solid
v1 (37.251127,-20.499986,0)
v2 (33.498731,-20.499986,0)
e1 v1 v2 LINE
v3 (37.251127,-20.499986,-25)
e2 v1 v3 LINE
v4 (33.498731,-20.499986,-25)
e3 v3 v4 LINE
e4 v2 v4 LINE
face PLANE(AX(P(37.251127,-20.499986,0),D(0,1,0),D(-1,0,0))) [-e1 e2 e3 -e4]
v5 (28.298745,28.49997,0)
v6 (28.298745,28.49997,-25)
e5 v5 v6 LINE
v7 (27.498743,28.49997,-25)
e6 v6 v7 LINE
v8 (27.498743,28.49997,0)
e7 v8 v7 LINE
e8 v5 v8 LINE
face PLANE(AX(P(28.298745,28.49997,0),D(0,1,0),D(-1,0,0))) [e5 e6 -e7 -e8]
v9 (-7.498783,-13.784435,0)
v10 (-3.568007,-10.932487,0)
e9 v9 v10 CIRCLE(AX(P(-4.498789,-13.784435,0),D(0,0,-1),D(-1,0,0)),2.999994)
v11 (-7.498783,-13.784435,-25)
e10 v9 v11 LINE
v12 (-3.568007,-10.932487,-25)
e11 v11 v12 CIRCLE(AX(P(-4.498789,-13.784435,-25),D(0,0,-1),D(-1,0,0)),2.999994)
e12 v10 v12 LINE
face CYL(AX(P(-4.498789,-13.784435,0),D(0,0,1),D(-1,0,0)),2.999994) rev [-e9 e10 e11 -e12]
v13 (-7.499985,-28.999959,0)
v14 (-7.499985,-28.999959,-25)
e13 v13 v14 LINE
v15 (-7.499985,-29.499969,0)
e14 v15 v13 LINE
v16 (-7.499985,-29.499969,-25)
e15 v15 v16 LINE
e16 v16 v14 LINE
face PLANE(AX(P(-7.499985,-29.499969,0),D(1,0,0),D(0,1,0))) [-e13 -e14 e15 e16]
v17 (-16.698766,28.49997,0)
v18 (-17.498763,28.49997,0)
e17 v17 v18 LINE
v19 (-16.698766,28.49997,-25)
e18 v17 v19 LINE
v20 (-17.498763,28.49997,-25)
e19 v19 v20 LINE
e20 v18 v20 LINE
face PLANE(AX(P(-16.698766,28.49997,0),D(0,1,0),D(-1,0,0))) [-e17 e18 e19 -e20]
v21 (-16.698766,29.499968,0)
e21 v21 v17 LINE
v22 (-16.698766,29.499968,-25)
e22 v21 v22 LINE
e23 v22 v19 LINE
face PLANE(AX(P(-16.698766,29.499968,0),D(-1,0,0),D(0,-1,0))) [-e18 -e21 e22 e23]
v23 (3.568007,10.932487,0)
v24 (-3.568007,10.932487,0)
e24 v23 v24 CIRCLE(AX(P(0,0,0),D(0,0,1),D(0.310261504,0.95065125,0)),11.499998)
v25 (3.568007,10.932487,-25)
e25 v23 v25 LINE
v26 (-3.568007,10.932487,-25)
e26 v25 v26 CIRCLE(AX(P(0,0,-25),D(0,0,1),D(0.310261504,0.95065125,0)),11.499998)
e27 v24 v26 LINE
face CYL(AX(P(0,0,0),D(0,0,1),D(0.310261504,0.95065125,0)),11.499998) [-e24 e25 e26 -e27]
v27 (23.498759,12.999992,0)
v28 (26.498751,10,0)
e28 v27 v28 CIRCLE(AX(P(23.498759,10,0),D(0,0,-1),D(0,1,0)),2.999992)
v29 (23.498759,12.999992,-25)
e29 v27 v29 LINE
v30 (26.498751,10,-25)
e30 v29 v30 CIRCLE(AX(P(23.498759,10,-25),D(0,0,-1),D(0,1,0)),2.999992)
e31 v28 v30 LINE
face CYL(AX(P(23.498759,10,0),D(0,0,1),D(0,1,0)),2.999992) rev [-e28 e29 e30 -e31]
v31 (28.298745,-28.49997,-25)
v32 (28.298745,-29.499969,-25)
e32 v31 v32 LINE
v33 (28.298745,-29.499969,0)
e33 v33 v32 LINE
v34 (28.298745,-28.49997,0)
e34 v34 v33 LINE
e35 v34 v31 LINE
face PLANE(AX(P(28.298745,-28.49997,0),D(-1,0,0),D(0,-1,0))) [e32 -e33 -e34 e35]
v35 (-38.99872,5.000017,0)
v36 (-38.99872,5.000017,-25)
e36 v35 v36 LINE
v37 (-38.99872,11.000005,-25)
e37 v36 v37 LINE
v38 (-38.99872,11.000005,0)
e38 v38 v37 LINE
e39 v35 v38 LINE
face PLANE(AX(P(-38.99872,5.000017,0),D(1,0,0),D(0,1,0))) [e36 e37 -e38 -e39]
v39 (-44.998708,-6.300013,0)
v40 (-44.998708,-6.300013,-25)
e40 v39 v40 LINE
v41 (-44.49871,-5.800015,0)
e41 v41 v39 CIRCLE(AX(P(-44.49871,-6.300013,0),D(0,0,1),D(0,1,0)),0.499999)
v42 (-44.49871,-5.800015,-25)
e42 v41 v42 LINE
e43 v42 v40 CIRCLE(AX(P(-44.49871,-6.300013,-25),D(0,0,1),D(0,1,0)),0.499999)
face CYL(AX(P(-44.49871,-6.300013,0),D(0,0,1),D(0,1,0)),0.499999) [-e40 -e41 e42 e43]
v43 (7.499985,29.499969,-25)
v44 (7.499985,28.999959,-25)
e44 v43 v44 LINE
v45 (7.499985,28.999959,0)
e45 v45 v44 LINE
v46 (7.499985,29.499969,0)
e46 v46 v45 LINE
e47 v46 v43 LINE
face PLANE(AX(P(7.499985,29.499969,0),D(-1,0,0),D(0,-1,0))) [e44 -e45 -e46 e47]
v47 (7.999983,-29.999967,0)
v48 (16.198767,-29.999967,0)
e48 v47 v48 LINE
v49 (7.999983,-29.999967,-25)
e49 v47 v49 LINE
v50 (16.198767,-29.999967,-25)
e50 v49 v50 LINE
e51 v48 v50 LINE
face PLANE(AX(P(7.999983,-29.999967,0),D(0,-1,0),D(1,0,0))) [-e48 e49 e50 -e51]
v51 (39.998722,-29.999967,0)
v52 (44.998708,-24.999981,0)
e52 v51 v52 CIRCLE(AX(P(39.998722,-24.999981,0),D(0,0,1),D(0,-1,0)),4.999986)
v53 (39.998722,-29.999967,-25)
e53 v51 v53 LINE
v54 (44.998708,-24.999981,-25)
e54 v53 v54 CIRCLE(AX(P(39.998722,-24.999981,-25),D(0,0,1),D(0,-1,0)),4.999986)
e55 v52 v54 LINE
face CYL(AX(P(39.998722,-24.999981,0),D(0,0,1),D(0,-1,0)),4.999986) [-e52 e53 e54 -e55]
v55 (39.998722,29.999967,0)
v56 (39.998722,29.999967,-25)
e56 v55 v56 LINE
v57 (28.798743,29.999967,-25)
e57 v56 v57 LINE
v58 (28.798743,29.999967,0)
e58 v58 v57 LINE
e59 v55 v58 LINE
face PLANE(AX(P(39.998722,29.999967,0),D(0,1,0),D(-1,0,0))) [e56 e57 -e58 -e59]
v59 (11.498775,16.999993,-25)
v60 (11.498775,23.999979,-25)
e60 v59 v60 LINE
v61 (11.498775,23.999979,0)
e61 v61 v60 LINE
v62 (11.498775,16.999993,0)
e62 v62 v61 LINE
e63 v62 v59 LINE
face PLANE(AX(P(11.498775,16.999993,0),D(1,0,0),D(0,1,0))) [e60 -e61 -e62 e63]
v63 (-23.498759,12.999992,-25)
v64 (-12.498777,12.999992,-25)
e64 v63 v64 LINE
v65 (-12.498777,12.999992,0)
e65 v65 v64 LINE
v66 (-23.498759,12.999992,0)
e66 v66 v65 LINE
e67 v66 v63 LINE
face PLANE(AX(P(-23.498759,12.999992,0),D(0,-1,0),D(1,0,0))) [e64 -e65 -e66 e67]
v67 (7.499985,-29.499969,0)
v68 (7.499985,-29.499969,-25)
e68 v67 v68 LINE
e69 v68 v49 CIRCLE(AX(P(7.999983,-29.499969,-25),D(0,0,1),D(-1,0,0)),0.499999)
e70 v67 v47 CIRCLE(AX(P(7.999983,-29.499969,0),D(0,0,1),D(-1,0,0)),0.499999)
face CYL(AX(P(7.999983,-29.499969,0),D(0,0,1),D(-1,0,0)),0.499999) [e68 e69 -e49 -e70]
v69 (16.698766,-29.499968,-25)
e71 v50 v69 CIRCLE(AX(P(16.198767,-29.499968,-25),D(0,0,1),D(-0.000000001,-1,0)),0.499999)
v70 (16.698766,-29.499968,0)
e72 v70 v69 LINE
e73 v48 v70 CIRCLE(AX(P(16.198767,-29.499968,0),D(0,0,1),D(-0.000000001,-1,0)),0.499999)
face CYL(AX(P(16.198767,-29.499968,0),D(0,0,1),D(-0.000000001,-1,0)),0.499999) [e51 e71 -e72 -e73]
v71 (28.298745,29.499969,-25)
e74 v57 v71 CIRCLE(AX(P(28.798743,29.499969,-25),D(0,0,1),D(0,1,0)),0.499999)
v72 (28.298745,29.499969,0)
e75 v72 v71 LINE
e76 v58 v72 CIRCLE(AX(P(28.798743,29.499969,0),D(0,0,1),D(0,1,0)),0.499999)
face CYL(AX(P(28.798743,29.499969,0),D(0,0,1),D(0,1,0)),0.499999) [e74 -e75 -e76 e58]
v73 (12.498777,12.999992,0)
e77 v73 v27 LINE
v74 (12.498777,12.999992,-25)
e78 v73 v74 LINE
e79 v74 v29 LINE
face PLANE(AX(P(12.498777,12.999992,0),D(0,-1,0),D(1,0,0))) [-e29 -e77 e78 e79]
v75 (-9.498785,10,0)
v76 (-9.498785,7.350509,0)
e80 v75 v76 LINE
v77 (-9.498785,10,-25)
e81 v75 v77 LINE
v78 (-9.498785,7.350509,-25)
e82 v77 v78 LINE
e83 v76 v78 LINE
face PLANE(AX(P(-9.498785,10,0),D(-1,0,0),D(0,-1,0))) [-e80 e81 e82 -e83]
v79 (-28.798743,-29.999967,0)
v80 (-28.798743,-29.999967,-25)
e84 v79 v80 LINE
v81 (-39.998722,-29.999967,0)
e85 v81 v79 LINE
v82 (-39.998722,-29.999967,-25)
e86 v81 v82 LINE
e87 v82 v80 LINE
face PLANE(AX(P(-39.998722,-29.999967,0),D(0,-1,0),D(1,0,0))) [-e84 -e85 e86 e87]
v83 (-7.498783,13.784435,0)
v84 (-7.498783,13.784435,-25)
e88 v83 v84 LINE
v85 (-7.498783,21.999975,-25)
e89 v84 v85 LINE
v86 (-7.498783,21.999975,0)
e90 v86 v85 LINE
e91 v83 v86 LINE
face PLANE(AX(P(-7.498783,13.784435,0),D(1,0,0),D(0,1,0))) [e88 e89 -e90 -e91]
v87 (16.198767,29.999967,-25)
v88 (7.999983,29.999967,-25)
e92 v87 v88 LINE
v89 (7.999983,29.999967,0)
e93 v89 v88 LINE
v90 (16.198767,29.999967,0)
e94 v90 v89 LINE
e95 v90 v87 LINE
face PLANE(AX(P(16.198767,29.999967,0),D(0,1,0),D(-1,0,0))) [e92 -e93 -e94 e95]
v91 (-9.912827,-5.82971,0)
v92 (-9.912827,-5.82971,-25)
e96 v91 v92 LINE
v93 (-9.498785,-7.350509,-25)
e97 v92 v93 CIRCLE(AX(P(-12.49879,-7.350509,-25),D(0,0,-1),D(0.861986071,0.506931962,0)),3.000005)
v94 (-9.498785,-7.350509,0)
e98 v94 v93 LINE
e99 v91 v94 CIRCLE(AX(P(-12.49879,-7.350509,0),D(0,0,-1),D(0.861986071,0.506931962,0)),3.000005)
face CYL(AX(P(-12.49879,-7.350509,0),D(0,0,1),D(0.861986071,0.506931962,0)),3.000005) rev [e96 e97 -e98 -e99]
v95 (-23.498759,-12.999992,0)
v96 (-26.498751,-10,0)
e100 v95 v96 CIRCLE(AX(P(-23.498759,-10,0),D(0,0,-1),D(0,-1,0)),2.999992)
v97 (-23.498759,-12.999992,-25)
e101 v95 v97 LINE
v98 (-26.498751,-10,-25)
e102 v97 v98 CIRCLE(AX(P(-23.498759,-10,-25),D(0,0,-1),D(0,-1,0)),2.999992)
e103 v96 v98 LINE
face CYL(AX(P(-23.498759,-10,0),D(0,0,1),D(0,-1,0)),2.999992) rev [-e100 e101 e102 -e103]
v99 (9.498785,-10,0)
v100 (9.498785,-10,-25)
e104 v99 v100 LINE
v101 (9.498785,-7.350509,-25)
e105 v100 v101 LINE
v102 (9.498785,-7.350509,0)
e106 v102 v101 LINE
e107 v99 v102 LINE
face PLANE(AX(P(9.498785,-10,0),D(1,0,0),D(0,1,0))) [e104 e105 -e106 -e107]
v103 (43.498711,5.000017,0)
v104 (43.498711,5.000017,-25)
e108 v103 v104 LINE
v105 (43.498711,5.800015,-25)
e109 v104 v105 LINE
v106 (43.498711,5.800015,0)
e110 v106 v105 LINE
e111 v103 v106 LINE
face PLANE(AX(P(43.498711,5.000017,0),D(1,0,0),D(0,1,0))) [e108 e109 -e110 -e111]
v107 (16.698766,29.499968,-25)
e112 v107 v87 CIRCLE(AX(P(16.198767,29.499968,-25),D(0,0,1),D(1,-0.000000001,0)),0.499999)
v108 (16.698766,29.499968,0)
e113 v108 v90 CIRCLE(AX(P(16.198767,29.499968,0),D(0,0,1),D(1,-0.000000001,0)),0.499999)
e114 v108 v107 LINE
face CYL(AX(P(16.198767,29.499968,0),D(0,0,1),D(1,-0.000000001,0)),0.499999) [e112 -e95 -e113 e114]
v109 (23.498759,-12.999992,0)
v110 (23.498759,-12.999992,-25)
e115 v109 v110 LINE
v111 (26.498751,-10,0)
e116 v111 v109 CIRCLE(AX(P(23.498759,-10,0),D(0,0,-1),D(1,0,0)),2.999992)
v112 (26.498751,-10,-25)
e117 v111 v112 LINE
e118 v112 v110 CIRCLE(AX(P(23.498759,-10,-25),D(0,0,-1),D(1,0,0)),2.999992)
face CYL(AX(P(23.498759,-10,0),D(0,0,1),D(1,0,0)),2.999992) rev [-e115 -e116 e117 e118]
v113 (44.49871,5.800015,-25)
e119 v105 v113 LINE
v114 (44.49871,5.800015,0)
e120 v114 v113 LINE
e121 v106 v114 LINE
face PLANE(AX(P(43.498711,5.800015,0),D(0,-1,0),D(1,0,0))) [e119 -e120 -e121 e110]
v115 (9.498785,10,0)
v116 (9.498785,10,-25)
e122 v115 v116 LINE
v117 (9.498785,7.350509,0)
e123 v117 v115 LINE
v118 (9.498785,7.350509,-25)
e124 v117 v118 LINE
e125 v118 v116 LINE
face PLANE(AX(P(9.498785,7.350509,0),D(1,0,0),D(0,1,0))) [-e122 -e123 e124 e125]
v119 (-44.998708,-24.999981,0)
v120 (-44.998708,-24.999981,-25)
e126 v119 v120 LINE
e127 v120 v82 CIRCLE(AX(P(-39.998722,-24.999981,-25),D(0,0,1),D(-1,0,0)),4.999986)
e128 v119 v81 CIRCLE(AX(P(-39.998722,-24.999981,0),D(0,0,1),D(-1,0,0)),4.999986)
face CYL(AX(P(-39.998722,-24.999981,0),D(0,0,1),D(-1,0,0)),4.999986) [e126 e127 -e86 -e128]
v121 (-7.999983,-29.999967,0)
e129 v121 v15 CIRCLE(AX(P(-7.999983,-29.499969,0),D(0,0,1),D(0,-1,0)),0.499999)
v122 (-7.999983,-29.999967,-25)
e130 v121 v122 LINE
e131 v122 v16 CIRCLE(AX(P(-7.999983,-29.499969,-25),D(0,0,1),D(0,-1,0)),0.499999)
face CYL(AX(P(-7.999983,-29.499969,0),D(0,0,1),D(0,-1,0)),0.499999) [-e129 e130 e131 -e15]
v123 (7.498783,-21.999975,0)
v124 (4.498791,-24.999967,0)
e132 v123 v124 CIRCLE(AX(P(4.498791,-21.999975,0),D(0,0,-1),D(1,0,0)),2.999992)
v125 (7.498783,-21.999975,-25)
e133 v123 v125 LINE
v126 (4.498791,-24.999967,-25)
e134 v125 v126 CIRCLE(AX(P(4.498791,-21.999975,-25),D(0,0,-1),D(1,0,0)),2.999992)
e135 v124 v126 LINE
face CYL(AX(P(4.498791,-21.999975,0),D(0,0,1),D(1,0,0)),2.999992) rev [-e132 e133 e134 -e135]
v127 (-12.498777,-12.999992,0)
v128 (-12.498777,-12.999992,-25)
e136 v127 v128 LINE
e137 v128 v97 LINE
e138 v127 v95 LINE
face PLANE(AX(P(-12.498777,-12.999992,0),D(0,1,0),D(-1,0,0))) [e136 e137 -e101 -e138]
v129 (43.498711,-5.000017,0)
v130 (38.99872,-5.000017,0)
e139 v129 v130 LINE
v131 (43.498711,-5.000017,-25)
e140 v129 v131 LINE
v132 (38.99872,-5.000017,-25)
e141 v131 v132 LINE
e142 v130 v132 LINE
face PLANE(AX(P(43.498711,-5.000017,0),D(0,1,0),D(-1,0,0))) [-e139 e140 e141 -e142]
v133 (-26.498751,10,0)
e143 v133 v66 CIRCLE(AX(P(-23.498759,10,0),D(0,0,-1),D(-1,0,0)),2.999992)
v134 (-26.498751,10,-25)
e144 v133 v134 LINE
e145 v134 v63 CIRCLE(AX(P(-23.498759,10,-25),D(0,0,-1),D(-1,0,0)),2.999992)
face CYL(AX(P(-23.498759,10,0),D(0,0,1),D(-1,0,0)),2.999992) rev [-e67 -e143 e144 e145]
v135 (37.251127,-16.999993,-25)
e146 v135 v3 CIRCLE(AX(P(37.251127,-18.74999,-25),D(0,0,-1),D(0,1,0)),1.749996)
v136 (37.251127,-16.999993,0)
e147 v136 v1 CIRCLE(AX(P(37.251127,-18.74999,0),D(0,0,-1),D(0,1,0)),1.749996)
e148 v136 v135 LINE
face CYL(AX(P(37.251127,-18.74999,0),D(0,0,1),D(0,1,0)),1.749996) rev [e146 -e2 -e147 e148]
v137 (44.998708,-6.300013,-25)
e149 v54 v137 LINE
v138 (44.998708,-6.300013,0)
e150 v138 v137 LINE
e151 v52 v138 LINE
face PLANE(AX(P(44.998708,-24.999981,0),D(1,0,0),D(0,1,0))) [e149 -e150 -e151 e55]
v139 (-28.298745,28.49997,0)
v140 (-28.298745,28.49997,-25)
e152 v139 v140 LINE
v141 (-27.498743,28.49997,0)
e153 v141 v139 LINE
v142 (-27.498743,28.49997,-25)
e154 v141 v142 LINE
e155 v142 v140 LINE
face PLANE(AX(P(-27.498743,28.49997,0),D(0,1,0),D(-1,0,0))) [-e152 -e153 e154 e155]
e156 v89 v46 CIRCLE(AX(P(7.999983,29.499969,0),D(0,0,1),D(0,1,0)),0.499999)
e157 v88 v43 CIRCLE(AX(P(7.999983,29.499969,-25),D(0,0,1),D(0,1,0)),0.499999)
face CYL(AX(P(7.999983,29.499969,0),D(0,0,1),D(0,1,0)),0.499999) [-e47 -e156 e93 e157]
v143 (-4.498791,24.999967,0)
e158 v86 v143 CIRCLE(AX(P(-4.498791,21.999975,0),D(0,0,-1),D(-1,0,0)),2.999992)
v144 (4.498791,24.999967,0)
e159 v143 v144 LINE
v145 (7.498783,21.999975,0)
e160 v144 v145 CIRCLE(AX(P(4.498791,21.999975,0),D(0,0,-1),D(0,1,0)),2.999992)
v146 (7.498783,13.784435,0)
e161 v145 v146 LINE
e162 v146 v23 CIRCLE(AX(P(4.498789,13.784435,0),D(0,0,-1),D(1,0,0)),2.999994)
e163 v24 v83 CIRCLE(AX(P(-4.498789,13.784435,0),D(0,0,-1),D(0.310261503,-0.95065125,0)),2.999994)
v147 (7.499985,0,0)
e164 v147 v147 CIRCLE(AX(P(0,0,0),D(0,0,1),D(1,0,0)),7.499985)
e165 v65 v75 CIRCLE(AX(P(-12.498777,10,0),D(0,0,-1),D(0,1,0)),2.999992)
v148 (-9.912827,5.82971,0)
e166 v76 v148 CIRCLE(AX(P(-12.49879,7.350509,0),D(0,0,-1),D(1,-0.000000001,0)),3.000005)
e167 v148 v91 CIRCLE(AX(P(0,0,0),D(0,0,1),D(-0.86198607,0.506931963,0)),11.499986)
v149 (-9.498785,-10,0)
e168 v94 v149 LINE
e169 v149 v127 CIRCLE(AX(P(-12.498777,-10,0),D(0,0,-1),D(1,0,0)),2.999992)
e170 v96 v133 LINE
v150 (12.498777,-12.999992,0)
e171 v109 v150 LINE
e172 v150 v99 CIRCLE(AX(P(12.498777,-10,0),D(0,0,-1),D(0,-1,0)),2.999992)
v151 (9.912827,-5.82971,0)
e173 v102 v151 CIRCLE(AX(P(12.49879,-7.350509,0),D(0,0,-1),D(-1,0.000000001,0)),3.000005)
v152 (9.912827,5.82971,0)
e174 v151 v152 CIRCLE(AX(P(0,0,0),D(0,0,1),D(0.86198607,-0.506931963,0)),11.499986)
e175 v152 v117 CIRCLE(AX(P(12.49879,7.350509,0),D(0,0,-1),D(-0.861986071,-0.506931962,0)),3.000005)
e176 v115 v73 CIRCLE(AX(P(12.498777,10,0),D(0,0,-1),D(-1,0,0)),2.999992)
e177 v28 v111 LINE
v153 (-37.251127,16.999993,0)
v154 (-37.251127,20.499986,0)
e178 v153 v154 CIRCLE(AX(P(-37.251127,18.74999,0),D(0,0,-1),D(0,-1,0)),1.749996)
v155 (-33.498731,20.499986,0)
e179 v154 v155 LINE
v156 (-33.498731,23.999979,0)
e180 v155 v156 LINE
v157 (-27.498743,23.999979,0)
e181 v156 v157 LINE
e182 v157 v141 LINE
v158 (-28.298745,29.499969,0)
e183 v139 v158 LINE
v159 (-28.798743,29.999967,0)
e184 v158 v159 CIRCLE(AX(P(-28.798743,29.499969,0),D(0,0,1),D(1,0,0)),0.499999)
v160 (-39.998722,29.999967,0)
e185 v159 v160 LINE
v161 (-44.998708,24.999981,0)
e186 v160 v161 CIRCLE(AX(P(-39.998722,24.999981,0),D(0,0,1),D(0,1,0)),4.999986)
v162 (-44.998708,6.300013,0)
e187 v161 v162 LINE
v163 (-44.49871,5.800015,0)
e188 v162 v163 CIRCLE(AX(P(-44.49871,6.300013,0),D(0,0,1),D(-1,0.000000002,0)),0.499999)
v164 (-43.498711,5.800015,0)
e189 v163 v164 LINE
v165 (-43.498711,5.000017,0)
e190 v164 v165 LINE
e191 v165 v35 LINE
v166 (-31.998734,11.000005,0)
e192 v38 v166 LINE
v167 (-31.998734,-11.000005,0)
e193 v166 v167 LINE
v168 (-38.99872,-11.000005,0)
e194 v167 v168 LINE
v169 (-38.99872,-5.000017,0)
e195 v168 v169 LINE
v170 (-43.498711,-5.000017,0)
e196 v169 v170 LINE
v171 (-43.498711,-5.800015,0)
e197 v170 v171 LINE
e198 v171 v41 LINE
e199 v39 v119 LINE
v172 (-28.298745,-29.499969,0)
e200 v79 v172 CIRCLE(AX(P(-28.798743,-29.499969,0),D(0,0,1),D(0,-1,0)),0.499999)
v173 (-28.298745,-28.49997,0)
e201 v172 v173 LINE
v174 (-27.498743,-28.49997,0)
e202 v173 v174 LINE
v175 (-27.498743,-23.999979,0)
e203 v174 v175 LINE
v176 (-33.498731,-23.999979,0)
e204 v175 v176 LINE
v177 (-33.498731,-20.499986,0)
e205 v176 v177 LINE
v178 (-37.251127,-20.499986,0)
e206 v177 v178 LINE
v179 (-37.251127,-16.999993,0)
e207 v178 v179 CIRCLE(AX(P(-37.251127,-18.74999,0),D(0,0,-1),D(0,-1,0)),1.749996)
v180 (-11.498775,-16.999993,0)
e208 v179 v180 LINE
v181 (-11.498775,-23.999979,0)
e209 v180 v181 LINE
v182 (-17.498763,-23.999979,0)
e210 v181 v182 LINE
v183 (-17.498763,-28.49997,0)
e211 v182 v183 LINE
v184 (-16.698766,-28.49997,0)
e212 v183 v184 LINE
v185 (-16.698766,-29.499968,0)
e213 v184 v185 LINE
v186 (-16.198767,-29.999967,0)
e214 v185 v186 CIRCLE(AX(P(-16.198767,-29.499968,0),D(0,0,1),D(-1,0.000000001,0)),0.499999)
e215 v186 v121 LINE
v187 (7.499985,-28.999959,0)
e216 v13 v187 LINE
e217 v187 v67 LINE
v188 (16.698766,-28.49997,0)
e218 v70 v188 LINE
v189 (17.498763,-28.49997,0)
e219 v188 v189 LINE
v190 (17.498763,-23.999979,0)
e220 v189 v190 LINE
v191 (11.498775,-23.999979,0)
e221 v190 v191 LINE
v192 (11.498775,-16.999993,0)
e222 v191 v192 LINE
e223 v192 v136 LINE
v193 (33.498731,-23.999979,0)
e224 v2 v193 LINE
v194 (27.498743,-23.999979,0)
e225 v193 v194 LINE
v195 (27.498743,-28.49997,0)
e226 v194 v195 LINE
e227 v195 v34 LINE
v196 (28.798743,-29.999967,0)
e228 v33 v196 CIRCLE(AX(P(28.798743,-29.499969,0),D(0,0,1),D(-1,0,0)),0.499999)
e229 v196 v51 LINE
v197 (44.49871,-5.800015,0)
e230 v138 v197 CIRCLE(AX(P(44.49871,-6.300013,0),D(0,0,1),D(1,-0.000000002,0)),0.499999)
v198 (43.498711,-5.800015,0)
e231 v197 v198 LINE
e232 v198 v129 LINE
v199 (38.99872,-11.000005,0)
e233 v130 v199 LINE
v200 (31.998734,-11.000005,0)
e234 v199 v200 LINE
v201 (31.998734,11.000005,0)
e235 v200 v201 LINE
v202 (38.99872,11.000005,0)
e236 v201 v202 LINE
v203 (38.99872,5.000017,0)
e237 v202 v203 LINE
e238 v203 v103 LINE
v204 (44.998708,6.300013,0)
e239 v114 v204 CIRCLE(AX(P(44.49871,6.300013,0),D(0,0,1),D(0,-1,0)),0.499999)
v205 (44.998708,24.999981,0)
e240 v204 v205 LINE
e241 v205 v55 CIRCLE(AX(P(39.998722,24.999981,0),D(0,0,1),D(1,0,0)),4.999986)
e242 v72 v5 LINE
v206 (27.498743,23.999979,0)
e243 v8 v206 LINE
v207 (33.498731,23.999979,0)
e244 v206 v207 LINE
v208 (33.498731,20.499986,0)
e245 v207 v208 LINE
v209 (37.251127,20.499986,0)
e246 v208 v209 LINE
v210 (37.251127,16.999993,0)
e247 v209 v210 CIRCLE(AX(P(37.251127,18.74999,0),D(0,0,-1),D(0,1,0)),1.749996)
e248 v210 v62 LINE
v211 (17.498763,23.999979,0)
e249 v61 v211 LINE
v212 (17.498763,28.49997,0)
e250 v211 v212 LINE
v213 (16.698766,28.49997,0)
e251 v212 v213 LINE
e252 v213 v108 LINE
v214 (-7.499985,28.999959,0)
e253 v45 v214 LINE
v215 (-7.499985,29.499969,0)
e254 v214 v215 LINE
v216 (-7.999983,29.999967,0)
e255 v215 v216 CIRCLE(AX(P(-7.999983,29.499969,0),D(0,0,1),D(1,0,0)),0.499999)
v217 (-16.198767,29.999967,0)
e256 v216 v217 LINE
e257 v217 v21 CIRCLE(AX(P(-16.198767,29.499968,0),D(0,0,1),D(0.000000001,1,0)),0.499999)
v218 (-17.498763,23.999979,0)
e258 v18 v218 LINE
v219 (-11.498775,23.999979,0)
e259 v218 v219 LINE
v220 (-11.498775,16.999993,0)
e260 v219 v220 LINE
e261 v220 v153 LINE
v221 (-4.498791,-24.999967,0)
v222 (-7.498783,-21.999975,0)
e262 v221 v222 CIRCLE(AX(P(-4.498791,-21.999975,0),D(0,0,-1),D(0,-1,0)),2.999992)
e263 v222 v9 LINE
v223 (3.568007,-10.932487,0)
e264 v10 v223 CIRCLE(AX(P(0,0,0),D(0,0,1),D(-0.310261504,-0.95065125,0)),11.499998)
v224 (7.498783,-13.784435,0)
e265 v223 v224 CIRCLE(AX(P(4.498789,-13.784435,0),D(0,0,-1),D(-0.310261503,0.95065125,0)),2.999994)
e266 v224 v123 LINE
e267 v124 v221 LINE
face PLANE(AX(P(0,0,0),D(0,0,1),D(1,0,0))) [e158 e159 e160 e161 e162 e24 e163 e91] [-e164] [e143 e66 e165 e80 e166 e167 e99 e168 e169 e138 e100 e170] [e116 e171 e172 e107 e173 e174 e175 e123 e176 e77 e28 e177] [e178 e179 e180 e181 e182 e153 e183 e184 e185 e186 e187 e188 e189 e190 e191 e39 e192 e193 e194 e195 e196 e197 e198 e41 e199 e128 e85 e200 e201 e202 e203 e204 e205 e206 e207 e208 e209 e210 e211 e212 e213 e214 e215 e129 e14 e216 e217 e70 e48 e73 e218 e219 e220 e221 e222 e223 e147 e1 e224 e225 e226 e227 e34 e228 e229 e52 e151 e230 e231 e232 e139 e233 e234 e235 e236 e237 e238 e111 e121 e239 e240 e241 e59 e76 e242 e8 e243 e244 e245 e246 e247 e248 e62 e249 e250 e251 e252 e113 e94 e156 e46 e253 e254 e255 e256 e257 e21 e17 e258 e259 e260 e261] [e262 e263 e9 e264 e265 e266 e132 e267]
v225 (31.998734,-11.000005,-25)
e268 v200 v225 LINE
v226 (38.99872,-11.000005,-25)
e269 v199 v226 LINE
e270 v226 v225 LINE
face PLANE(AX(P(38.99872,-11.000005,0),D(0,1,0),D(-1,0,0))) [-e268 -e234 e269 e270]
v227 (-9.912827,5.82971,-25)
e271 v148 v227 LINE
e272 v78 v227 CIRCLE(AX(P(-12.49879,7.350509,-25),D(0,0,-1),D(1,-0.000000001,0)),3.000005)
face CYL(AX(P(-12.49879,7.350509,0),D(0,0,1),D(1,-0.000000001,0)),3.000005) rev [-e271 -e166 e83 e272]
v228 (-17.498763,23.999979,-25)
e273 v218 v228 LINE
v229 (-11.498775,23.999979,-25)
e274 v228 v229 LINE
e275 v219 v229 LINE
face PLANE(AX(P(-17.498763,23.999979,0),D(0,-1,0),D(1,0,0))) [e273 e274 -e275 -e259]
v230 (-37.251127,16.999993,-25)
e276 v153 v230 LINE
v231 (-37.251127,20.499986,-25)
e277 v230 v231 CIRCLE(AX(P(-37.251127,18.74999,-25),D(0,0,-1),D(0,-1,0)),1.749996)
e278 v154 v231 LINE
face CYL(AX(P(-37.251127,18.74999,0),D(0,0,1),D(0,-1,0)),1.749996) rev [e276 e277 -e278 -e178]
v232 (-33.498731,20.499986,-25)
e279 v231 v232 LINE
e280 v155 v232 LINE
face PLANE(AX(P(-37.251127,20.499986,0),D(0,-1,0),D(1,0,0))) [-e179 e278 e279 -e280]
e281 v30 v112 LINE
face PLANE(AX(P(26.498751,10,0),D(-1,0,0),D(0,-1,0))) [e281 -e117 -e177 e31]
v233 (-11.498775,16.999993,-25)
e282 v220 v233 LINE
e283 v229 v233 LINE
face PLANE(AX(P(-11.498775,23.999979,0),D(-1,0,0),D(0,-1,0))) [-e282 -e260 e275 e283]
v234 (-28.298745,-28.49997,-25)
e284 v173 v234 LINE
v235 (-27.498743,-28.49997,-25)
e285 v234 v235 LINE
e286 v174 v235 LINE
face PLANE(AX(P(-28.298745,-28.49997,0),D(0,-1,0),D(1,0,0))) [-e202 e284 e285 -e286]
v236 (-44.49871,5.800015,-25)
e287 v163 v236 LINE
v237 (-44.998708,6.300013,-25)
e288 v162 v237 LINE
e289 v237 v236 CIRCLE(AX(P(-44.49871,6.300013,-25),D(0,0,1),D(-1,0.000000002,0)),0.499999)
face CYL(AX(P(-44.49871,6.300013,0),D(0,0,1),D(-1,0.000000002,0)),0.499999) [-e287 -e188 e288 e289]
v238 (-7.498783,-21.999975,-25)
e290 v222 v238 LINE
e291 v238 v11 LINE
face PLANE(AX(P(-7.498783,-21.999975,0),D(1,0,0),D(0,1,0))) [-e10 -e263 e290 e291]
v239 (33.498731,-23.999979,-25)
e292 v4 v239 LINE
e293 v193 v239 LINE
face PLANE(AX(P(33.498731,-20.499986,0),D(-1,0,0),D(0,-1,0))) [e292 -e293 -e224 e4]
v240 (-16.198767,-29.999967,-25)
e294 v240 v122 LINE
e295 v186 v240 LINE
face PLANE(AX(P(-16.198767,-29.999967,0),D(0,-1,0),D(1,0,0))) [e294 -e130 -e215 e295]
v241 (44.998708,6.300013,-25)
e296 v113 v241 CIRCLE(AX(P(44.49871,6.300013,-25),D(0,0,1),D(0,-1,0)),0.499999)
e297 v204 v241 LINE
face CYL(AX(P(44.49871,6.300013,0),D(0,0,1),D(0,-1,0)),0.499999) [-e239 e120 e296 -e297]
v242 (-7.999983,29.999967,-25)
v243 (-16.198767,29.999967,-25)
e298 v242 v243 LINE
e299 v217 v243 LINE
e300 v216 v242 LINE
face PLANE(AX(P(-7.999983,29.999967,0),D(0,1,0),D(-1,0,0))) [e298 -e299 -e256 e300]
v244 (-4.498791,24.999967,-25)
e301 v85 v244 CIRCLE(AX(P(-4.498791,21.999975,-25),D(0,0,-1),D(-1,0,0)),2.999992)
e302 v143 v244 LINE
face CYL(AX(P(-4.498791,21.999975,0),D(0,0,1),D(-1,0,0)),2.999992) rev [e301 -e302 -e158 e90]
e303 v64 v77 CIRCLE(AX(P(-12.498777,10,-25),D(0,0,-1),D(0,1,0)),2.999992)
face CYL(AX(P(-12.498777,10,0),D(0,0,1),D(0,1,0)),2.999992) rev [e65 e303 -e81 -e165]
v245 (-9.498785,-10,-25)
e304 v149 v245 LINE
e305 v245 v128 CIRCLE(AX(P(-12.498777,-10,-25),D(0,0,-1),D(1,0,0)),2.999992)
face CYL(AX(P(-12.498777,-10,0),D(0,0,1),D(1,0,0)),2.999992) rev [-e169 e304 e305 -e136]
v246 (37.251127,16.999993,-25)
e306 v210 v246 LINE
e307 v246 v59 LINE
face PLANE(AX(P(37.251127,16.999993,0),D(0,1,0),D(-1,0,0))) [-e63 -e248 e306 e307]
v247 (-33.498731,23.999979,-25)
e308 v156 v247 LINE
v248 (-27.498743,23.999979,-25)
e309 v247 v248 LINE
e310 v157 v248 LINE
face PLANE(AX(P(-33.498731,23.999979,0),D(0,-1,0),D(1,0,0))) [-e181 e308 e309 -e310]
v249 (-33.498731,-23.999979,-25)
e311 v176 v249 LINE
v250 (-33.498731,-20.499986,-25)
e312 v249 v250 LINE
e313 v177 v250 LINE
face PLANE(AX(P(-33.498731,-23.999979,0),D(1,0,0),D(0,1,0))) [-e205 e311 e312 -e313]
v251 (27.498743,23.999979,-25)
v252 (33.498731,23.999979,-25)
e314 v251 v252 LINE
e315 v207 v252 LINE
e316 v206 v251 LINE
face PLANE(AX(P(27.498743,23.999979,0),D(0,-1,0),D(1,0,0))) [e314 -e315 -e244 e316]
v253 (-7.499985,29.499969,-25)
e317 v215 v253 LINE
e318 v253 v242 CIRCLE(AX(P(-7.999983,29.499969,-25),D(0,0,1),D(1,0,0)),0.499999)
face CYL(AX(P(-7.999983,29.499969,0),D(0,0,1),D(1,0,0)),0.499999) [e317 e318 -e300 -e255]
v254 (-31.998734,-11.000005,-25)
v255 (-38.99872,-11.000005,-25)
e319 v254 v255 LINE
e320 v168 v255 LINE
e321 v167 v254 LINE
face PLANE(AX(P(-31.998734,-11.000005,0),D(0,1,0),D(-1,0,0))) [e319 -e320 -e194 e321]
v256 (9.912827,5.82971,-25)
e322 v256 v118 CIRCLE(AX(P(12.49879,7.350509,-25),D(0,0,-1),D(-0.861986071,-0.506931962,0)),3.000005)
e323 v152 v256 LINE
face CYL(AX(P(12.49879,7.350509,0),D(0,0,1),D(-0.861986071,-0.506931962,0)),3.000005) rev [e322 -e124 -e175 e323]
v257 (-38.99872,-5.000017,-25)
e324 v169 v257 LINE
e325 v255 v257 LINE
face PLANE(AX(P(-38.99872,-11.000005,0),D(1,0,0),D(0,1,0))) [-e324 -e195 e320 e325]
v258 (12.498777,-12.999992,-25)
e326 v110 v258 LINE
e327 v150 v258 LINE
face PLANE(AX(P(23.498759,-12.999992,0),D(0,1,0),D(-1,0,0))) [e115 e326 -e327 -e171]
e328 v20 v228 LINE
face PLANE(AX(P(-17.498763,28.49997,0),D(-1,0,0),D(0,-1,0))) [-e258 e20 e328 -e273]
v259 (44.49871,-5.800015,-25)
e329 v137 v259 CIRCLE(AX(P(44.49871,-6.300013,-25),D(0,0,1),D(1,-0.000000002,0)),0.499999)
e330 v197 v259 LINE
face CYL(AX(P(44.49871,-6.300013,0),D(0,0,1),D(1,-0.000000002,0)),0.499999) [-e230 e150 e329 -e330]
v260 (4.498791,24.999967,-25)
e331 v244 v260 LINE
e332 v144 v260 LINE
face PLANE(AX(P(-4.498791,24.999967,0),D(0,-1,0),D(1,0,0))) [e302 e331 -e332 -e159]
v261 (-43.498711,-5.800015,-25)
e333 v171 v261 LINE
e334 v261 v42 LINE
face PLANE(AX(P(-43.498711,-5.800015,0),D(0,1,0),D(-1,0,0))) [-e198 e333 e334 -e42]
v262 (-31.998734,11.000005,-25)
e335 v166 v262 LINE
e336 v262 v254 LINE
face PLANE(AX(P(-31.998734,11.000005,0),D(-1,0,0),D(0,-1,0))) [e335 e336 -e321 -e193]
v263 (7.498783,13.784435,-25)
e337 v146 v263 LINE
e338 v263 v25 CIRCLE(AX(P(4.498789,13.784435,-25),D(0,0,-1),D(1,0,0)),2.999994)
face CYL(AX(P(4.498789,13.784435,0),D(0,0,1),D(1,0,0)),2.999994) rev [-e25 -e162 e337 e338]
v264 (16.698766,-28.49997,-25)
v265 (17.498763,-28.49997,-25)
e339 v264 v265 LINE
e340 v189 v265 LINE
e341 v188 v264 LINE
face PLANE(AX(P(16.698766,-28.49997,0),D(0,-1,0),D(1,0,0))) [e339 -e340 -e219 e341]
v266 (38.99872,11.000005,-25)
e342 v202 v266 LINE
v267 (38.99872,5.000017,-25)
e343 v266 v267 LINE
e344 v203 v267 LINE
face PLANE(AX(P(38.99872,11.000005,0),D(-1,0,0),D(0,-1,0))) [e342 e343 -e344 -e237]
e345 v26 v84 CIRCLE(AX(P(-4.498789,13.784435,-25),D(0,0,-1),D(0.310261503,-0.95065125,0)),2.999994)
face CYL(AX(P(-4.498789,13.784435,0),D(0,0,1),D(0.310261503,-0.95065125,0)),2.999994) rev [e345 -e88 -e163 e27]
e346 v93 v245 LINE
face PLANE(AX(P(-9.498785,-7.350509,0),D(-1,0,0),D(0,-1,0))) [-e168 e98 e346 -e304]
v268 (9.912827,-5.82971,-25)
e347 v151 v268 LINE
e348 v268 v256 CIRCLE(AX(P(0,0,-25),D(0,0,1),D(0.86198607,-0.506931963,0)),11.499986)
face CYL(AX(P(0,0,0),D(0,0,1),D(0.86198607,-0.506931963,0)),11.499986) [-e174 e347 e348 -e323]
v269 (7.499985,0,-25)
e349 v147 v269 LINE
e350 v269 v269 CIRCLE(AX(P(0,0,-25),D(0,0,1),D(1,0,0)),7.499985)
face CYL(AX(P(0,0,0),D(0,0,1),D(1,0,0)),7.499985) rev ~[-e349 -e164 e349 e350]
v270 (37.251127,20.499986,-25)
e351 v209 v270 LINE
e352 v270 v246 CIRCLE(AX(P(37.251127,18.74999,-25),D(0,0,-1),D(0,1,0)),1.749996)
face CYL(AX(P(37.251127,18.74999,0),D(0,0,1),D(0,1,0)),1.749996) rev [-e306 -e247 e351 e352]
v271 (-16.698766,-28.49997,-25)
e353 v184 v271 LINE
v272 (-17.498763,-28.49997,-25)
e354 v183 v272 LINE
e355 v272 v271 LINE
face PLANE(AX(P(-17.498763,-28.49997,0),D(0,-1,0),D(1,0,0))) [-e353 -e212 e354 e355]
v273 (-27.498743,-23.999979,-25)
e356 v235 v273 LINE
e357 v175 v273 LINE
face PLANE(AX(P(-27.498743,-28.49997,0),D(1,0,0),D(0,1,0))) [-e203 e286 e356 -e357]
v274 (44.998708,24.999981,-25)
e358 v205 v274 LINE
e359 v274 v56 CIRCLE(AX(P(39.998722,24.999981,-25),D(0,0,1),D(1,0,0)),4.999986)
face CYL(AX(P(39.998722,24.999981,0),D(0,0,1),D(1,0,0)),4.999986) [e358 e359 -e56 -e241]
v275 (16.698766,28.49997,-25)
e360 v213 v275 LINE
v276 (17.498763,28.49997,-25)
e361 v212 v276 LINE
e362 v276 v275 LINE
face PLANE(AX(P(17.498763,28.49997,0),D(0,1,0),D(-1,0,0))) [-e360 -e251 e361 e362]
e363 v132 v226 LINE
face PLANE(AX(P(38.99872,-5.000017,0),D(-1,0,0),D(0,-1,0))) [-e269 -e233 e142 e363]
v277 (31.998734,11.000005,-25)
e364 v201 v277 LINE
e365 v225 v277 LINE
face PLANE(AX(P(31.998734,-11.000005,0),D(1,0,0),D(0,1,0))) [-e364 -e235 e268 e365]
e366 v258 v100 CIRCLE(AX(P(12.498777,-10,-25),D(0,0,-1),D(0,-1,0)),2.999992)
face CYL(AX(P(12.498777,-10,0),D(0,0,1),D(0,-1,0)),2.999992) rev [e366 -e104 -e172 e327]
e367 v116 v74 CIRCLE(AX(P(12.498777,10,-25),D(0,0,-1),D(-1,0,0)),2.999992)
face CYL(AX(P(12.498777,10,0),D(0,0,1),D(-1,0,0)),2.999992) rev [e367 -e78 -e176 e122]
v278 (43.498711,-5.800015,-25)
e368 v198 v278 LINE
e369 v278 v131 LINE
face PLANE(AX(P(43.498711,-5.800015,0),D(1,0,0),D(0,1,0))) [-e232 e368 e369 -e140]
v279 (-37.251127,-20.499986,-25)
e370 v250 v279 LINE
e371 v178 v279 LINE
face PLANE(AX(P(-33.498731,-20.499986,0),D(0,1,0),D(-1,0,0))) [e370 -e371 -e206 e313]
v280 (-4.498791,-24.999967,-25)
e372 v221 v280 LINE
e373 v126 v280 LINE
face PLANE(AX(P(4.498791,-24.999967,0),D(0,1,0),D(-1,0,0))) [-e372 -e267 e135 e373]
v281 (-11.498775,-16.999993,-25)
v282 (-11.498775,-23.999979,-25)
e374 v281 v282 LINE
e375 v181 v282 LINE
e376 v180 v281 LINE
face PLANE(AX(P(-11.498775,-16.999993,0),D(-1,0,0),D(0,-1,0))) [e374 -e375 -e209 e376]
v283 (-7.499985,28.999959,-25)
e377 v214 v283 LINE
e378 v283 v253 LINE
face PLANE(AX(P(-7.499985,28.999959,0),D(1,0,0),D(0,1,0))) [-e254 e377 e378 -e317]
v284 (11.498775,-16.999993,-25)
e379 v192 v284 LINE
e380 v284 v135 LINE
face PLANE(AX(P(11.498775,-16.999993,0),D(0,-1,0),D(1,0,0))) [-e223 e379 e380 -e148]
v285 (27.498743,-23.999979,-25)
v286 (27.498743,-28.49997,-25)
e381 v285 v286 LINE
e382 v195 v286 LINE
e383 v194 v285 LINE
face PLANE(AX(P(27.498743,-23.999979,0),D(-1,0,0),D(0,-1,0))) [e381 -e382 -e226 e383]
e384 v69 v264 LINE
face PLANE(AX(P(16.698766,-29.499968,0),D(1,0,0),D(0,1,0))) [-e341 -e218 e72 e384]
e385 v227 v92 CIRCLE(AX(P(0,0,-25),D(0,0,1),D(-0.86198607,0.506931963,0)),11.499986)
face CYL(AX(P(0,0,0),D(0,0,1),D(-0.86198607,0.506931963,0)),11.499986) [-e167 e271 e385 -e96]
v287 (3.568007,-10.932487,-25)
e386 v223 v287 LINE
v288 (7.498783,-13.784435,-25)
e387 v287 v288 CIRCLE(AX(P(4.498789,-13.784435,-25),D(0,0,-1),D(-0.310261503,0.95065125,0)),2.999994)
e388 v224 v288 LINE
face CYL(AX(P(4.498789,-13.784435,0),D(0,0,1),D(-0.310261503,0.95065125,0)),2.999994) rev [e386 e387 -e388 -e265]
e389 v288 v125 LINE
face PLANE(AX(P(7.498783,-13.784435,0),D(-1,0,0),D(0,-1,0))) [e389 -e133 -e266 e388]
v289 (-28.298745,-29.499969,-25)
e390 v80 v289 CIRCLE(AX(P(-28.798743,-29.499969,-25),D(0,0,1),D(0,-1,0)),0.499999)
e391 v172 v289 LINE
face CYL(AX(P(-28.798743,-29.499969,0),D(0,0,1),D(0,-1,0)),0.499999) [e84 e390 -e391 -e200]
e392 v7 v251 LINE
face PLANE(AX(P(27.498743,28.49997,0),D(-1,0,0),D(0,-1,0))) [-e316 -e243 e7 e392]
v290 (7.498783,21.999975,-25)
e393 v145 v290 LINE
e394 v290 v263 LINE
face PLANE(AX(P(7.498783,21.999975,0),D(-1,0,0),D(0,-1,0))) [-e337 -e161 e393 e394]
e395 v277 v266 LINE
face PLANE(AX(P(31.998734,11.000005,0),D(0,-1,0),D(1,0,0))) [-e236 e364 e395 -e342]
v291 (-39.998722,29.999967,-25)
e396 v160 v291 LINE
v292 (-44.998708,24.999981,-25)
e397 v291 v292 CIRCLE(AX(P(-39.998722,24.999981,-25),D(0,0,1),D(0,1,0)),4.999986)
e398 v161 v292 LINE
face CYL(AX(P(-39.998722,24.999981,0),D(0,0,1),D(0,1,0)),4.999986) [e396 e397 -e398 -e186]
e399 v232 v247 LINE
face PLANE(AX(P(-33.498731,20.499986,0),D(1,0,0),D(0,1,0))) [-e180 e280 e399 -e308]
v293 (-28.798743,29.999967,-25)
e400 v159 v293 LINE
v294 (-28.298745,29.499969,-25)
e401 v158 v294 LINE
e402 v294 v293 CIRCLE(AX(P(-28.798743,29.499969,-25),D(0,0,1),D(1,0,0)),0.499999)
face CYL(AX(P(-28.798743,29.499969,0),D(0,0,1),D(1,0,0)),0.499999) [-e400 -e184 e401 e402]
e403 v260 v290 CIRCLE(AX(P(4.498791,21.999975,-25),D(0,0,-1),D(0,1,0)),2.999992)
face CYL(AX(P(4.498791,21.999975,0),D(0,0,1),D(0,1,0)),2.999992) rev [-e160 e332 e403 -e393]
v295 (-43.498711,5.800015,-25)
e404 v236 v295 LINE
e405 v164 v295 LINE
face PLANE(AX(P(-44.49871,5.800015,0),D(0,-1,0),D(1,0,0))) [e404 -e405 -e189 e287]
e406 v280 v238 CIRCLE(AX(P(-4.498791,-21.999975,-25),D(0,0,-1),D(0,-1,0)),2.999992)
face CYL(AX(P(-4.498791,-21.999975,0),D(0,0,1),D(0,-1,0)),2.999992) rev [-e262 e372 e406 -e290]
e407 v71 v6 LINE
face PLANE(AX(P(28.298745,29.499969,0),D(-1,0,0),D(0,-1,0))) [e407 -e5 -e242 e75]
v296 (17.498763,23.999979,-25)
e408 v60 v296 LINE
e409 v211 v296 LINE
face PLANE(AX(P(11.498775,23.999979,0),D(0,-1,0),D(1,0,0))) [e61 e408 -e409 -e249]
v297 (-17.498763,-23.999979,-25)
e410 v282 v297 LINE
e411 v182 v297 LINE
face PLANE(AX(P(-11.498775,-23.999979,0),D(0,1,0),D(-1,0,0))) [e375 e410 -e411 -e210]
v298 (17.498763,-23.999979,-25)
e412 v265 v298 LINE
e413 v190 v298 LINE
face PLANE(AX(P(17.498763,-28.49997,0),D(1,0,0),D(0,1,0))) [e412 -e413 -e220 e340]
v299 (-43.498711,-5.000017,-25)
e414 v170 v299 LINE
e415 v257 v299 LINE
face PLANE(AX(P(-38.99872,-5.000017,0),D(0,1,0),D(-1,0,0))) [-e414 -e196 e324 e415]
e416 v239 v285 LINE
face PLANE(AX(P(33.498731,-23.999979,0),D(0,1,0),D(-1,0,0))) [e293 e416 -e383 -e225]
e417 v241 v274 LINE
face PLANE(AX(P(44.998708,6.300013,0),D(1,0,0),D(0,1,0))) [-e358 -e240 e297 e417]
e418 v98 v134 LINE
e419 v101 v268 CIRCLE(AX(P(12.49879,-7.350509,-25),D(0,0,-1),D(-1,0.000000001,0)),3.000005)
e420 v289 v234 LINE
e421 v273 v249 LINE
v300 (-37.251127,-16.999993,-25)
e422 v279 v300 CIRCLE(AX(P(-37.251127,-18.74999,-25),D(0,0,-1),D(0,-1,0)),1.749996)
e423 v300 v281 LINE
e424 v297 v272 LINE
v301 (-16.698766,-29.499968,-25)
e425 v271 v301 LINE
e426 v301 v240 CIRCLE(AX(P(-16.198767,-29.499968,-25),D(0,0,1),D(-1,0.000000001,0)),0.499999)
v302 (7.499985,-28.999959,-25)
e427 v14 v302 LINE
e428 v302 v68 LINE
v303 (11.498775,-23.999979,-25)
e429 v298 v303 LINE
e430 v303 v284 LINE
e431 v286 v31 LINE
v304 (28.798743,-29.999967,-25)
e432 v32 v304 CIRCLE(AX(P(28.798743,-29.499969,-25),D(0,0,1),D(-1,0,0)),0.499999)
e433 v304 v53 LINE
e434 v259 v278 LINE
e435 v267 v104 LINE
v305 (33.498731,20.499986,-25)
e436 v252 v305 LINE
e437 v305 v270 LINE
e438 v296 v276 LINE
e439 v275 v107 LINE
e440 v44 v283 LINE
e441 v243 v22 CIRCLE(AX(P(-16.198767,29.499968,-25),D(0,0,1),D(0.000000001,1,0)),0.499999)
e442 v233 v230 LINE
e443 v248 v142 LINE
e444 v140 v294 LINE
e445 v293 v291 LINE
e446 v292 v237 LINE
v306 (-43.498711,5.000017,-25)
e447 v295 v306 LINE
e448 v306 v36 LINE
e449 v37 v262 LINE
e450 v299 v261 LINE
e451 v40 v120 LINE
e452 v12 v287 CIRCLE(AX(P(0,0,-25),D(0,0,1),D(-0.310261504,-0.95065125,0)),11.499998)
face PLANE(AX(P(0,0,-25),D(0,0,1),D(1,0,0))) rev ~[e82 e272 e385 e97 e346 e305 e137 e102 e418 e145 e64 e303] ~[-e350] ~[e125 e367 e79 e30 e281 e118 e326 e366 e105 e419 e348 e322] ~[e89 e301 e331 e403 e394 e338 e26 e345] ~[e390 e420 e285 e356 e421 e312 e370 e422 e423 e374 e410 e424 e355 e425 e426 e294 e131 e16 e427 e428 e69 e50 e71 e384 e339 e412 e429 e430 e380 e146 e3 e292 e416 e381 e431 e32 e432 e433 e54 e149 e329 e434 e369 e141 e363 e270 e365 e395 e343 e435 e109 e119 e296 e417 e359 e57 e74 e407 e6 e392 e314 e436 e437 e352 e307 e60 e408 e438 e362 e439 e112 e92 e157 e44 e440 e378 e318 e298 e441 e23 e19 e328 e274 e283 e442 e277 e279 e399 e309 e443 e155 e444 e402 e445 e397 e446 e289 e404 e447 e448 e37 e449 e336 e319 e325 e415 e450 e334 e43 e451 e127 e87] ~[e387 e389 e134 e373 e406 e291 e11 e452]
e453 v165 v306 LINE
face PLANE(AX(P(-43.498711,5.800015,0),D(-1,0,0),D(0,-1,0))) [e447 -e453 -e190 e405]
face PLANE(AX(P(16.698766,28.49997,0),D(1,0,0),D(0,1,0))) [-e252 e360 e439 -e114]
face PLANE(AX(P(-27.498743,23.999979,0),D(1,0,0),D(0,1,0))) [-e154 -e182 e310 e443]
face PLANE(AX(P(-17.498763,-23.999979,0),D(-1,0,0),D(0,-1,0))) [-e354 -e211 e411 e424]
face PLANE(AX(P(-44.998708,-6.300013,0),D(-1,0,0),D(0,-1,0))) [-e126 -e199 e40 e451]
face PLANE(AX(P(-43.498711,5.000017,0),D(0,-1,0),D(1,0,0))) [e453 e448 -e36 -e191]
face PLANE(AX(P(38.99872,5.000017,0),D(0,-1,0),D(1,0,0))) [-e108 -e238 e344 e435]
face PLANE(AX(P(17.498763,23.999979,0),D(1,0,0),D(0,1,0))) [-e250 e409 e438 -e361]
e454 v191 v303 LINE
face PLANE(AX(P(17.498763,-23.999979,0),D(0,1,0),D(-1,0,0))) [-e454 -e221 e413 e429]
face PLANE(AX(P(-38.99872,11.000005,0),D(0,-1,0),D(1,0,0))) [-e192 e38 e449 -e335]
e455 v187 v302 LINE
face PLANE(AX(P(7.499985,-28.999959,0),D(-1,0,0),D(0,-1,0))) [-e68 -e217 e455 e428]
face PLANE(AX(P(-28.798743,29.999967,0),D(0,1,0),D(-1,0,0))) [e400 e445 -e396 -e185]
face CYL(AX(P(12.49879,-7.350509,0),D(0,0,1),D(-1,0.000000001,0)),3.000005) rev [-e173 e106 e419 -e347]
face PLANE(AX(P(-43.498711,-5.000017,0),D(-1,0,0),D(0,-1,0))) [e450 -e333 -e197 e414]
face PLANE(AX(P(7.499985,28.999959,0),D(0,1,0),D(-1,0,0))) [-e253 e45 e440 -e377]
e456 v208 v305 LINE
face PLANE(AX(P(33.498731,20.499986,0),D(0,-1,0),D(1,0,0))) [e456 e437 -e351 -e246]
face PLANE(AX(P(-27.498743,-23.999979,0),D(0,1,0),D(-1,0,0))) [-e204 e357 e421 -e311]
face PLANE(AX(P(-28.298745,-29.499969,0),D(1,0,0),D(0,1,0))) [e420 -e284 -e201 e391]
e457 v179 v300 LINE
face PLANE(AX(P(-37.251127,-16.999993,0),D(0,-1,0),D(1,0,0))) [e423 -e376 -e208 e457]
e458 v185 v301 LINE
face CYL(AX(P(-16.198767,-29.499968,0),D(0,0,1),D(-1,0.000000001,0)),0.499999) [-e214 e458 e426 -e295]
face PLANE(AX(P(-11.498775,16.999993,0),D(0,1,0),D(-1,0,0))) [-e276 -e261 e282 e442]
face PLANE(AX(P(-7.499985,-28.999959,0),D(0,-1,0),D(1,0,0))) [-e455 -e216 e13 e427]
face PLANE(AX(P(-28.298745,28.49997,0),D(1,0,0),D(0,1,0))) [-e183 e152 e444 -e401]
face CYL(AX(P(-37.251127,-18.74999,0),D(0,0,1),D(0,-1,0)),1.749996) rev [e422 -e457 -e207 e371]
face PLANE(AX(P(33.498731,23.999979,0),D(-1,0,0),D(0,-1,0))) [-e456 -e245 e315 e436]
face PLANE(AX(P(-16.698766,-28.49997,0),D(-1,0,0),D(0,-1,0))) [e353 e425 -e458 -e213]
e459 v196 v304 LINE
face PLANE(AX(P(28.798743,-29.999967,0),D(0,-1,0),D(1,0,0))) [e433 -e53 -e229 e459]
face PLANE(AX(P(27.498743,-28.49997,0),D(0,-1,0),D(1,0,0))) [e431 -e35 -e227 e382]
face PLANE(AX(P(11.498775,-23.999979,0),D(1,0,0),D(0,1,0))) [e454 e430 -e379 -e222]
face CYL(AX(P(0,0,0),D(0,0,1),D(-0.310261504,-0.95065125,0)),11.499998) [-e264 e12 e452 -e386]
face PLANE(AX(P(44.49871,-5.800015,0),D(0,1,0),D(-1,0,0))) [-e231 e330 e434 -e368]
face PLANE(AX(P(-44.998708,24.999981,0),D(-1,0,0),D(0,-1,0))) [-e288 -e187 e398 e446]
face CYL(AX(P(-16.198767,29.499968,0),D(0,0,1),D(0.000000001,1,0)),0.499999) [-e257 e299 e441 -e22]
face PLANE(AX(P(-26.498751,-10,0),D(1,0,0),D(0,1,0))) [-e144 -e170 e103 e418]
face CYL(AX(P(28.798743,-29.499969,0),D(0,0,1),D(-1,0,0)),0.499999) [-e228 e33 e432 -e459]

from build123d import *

# Parameters (mm, degrees)
SKETCH1_R           = 7.4999849
BOSS_EXTRUDE1_DEPTH = 25


with BuildPart() as part:
    # Sketch1 → Boss-Extrude1 (new body)
    with BuildSketch(Plane.XY):
        with BuildLine():
            Line((28.798743476, -29.99996723), (39.998722185, -29.99996723))
            ThreePointArc((39.998722185, -29.99996723), (43.534246379, -28.535505159), (44.99870845, -24.999980965))
            Line((44.99870845, -24.999980965), (44.99870845, -6.300013256))
            ThreePointArc((44.99870845, -6.300013256), (44.852262243, -5.946460836), (44.498709824, -5.800014629))
            Line((44.498709824, -5.800014629), (43.49871145, -5.800014629))
            Line((43.49871145, -5.800014629), (43.49871145, -5.00001723))
            Line((43.49871145, -5.00001723), (38.99872045, -5.00001723))
            Line((38.99872045, -5.00001723), (38.99872045, -11.00000523))
            Line((38.99872045, -11.00000523), (31.99873445, -11.00000523))
            Line((31.99873445, -11.00000523), (31.99873445, 11.00000523))
            Line((31.99873445, 11.00000523), (38.99872045, 11.00000523))
            Line((38.99872045, 11.00000523), (38.99872045, 5.00001723))
            Line((38.99872045, 5.00001723), (43.49871145, 5.00001723))
            Line((43.49871145, 5.00001723), (43.49871145, 5.800014629))
            Line((43.49871145, 5.800014629), (44.498709824, 5.800014629))
            ThreePointArc((44.498709824, 5.800014629), (44.852262243, 5.946460836), (44.99870845, 6.300013256))
            Line((44.99870845, 6.300013256), (44.99870845, 24.999980965))
            ThreePointArc((44.99870845, 24.999980965), (43.534246379, 28.535505159), (39.998722185, 29.99996723))
            Line((39.998722185, 29.99996723), (28.798743476, 29.99996723))
            ThreePointArc((28.798743476, 29.99996723), (28.445191057, 29.853521023), (28.29874485, 29.499968604))
            Line((28.29874485, 29.499968604), (28.29874485, 28.499970229))
            Line((28.29874485, 28.499970229), (27.49874345, 28.499970229))
            Line((27.49874345, 28.499970229), (27.49874345, 23.999979229))
            Line((27.49874345, 23.999979229), (33.49873145, 23.999979229))
            Line((33.49873145, 23.999979229), (33.49873145, 20.499986229))
            Line((33.49873145, 20.499986229), (37.251126945, 20.499986229))
            ThreePointArc((37.251126945, 20.499986229), (39.001123445, 18.749989729), (37.251126945, 16.999993229))
            Line((37.251126945, 16.999993229), (11.49877545, 16.999993229))
            Line((11.49877545, 16.999993229), (11.49877545, 23.999979229))
            Line((11.49877545, 23.999979229), (17.49876345, 23.999979229))
            Line((17.49876345, 23.999979229), (17.49876345, 28.499970229))
            Line((17.49876345, 28.499970229), (16.69876605, 28.499970229))
            Line((16.69876605, 28.499970229), (16.69876605, 29.49996775))
            ThreePointArc((16.69876605, 29.49996775), (16.552319593, 29.853520773), (16.19876657, 29.99996723))
            Line((16.19876657, 29.99996723), (7.999983464, 29.99996723))
            ThreePointArc((7.999983464, 29.99996723), (7.646431045, 29.853521023), (7.499984838, 29.499968604))
            Line((7.499984838, 29.499968604), (7.499984838, 28.99995862))
            Line((7.499984838, 28.99995862), (-7.499984838, 28.99995862))
            Line((-7.499984838, 28.99995862), (-7.499984838, 29.499968604))
            ThreePointArc((-7.499984838, 29.499968604), (-7.646431045, 29.853521023), (-7.999983464, 29.99996723))
            Line((-7.999983464, 29.99996723), (-16.19876657, 29.99996723))
            ThreePointArc((-16.19876657, 29.99996723), (-16.552319593, 29.853520773), (-16.69876605, 29.49996775))
            Line((-16.69876605, 29.49996775), (-16.69876605, 28.499970229))
            Line((-16.69876605, 28.499970229), (-17.49876345, 28.499970229))
            Line((-17.49876345, 28.499970229), (-17.49876345, 23.999979229))
            Line((-17.49876345, 23.999979229), (-11.49877545, 23.999979229))
            Line((-11.49877545, 23.999979229), (-11.49877545, 16.999993229))
            Line((-11.49877545, 16.999993229), (-37.251126945, 16.999993229))
            ThreePointArc((-37.251126945, 16.999993229), (-39.001123445, 18.749989729), (-37.251126945, 20.499986229))
            Line((-37.251126945, 20.499986229), (-33.49873145, 20.499986229))
            Line((-33.49873145, 20.499986229), (-33.49873145, 23.999979229))
            Line((-33.49873145, 23.999979229), (-27.49874345, 23.999979229))
            Line((-27.49874345, 23.999979229), (-27.49874345, 28.499970229))
            Line((-27.49874345, 28.499970229), (-28.29874485, 28.499970229))
            Line((-28.29874485, 28.499970229), (-28.29874485, 29.499968604))
            ThreePointArc((-28.29874485, 29.499968604), (-28.445191057, 29.853521023), (-28.798743476, 29.99996723))
            Line((-28.798743476, 29.99996723), (-39.998722185, 29.99996723))
            ThreePointArc((-39.998722185, 29.99996723), (-43.534246379, 28.535505159), (-44.99870845, 24.999980965))
            Line((-44.99870845, 24.999980965), (-44.99870845, 6.300013256))
            ThreePointArc((-44.99870845, 6.300013256), (-44.852262243, 5.946460836), (-44.498709824, 5.800014629))
            Line((-44.498709824, 5.800014629), (-43.49871145, 5.800014629))
            Line((-43.49871145, 5.800014629), (-43.49871145, 5.00001723))
            Line((-43.49871145, 5.00001723), (-38.99872045, 5.00001723))
            Line((-38.99872045, 5.00001723), (-38.99872045, 11.00000523))
            Line((-38.99872045, 11.00000523), (-31.99873445, 11.00000523))
            Line((-31.99873445, 11.00000523), (-31.99873445, -11.00000523))
            Line((-31.99873445, -11.00000523), (-38.99872045, -11.00000523))
            Line((-38.99872045, -11.00000523), (-38.99872045, -5.00001723))
            Line((-38.99872045, -5.00001723), (-43.49871145, -5.00001723))
            Line((-43.49871145, -5.00001723), (-43.49871145, -5.800014629))
            Line((-43.49871145, -5.800014629), (-44.498709824, -5.800014629))
            ThreePointArc((-44.498709824, -5.800014629), (-44.852262243, -5.946460836), (-44.99870845, -6.300013256))
            Line((-44.99870845, -6.300013256), (-44.99870845, -24.999980965))
            ThreePointArc((-44.99870845, -24.999980965), (-43.534246379, -28.535505159), (-39.998722185, -29.99996723))
            Line((-39.998722185, -29.99996723), (-28.798743476, -29.99996723))
            ThreePointArc((-28.798743476, -29.99996723), (-28.445191057, -29.853521023), (-28.29874485, -29.499968604))
            Line((-28.29874485, -29.499968604), (-28.29874485, -28.499970229))
            Line((-28.29874485, -28.499970229), (-27.49874345, -28.499970229))
            Line((-27.49874345, -28.499970229), (-27.49874345, -23.999979229))
            Line((-27.49874345, -23.999979229), (-33.49873145, -23.999979229))
            Line((-33.49873145, -23.999979229), (-33.49873145, -20.499986229))
            Line((-33.49873145, -20.499986229), (-37.251126945, -20.499986229))
            ThreePointArc((-37.251126945, -20.499986229), (-39.001123445, -18.749989729), (-37.251126945, -16.999993229))
            Line((-37.251126945, -16.999993229), (-11.49877545, -16.999993229))
            Line((-11.49877545, -16.999993229), (-11.49877545, -23.999979229))
            Line((-11.49877545, -23.999979229), (-17.49876345, -23.999979229))
            Line((-17.49876345, -23.999979229), (-17.49876345, -28.499970229))
            Line((-17.49876345, -28.499970229), (-16.69876605, -28.499970229))
            Line((-16.69876605, -28.499970229), (-16.69876605, -29.49996775))
            ThreePointArc((-16.69876605, -29.49996775), (-16.552319593, -29.853520773), (-16.19876657, -29.99996723))
            Line((-16.19876657, -29.99996723), (-7.999983464, -29.99996723))
            ThreePointArc((-7.999983464, -29.99996723), (-7.646431045, -29.853521023), (-7.499984838, -29.499968604))
            Line((-7.499984838, -29.499968604), (-7.499984838, -28.99995862))
            Line((-7.499984838, -28.99995862), (7.499984838, -28.99995862))
            Line((7.499984838, -28.99995862), (7.499984838, -29.499968604))
            ThreePointArc((7.499984838, -29.499968604), (7.646431045, -29.853521023), (7.999983464, -29.99996723))
            Line((7.999983464, -29.99996723), (16.19876657, -29.99996723))
            ThreePointArc((16.19876657, -29.99996723), (16.552319593, -29.853520773), (16.69876605, -29.49996775))
            Line((16.69876605, -29.49996775), (16.69876605, -28.499970229))
            Line((16.69876605, -28.499970229), (17.49876345, -28.499970229))
            Line((17.49876345, -28.499970229), (17.49876345, -23.999979229))
            Line((17.49876345, -23.999979229), (11.49877545, -23.999979229))
            Line((11.49877545, -23.999979229), (11.49877545, -16.999993229))
            Line((11.49877545, -16.999993229), (37.251126945, -16.999993229))
            ThreePointArc((37.251126945, -16.999993229), (39.001123445, -18.749989729), (37.251126945, -20.499986229))
            Line((37.251126945, -20.499986229), (33.49873145, -20.499986229))
            Line((33.49873145, -20.499986229), (33.49873145, -23.999979229))
            Line((33.49873145, -23.999979229), (27.49874345, -23.999979229))
            Line((27.49874345, -23.999979229), (27.49874345, -28.499970229))
            Line((27.49874345, -28.499970229), (28.29874485, -28.499970229))
            Line((28.29874485, -28.499970229), (28.29874485, -29.499968604))
            ThreePointArc((28.29874485, -29.499968604), (28.445191057, -29.853521023), (28.798743476, -29.99996723))
        make_face()
        Circle(SKETCH1_R, mode=Mode.SUBTRACT)
        with BuildLine():
            Line((7.498782838, -13.784434919), (7.498782838, -21.999974861))
            ThreePointArc((7.498782838, -21.999974861), (6.620105596, -24.121289377), (4.498791079, -24.99996662))
            Line((4.498791079, -24.99996662), (-4.498791079, -24.99996662))
            ThreePointArc((-4.498791079, -24.99996662), (-6.620105596, -24.121289377), (-7.498782838, -21.999974861))
            Line((-7.498782838, -21.999974861), (-7.498782838, -13.784434919))
            ThreePointArc((-7.498782838, -13.784434919), (-6.26055251, -11.356235576), (-3.568006565, -10.932487146))
            ThreePointArc((-3.568006565, -10.932487146), (0, -11.499997654), (3.568006565, -10.932487146))
            ThreePointArc((3.568006565, -10.932487146), (6.26055251, -11.356235576), (7.498782838, -13.784434919))
        make_face(mode=Mode.SUBTRACT)
        with BuildLine():
            Line((-7.498782838, 13.784434919), (-7.498782838, 21.999974861))
            ThreePointArc((-7.498782838, 21.999974861), (-6.620105596, 24.121289377), (-4.498791079, 24.99996662))
            Line((-4.498791079, 24.99996662), (4.498791079, 24.99996662))
            ThreePointArc((4.498791079, 24.99996662), (6.620105596, 24.121289377), (7.498782838, 21.999974861))
            Line((7.498782838, 21.999974861), (7.498782838, 13.784434919))
            ThreePointArc((7.498782838, 13.784434919), (6.26055251, 11.356235576), (3.568006565, 10.932487146))
            ThreePointArc((3.568006565, 10.932487146), (0, 11.499997654), (-3.568006565, 10.932487146))
            ThreePointArc((-3.568006565, 10.932487146), (-6.26055251, 11.356235576), (-7.498782838, 13.784434919))
        make_face(mode=Mode.SUBTRACT)
        with BuildLine():
            Line((26.498750816, 9.999999861), (26.498750816, -9.999999861))
            ThreePointArc((26.498750816, -9.999999861), (25.620073573, -12.121314377), (23.498759057, -12.99999162))
            Line((23.498759057, -12.99999162), (12.498776575, -12.99999162))
            ThreePointArc((12.498776575, -12.99999162), (10.377462058, -12.121314377), (9.498784816, -9.999999861))
            Line((9.498784816, -9.999999861), (9.498784816, -7.350508853))
            ThreePointArc((9.498784816, -7.350508853), (9.604145594, -6.562432144), (9.912827344, -5.829710252))
            ThreePointArc((9.912827344, -5.829710252), (11.499985547, 0), (9.912827344, 5.829710252))
            ThreePointArc((9.912827344, 5.829710252), (9.604145594, 6.562432144), (9.498784816, 7.350508853))
            Line((9.498784816, 7.350508853), (9.498784816, 9.999999861))
            ThreePointArc((9.498784816, 9.999999861), (10.377462058, 12.121314377), (12.498776575, 12.99999162))
            Line((12.498776575, 12.99999162), (23.498759057, 12.99999162))
            ThreePointArc((23.498759057, 12.99999162), (25.620073573, 12.121314377), (26.498750816, 9.999999861))
        make_face(mode=Mode.SUBTRACT)
        with BuildLine():
            Line((-9.498784816, -7.350508853), (-9.498784816, -9.999999861))
            ThreePointArc((-9.498784816, -9.999999861), (-10.377462058, -12.121314377), (-12.498776575, -12.99999162))
            Line((-12.498776575, -12.99999162), (-23.498759057, -12.99999162))
            ThreePointArc((-23.498759057, -12.99999162), (-25.620073573, -12.121314377), (-26.498750816, -9.999999861))
            Line((-26.498750816, -9.999999861), (-26.498750816, 9.999999861))
            ThreePointArc((-26.498750816, 9.999999861), (-25.620073573, 12.121314377), (-23.498759057, 12.99999162))
            Line((-23.498759057, 12.99999162), (-12.498776575, 12.99999162))
            ThreePointArc((-12.498776575, 12.99999162), (-10.377462058, 12.121314377), (-9.498784816, 9.999999861))
            Line((-9.498784816, 9.999999861), (-9.498784816, 7.350508853))
            ThreePointArc((-9.498784816, 7.350508853), (-9.604145594, 6.562432144), (-9.912827344, 5.829710252))
            ThreePointArc((-9.912827344, 5.829710252), (-11.499985547, 0), (-9.912827344, -5.829710252))
            ThreePointArc((-9.912827344, -5.829710252), (-9.604145594, -6.562432144), (-9.498784816, -7.350508853))
        make_face(mode=Mode.SUBTRACT)
    extrude(amount=-BOSS_EXTRUDE1_DEPTH)


solid = part.part
